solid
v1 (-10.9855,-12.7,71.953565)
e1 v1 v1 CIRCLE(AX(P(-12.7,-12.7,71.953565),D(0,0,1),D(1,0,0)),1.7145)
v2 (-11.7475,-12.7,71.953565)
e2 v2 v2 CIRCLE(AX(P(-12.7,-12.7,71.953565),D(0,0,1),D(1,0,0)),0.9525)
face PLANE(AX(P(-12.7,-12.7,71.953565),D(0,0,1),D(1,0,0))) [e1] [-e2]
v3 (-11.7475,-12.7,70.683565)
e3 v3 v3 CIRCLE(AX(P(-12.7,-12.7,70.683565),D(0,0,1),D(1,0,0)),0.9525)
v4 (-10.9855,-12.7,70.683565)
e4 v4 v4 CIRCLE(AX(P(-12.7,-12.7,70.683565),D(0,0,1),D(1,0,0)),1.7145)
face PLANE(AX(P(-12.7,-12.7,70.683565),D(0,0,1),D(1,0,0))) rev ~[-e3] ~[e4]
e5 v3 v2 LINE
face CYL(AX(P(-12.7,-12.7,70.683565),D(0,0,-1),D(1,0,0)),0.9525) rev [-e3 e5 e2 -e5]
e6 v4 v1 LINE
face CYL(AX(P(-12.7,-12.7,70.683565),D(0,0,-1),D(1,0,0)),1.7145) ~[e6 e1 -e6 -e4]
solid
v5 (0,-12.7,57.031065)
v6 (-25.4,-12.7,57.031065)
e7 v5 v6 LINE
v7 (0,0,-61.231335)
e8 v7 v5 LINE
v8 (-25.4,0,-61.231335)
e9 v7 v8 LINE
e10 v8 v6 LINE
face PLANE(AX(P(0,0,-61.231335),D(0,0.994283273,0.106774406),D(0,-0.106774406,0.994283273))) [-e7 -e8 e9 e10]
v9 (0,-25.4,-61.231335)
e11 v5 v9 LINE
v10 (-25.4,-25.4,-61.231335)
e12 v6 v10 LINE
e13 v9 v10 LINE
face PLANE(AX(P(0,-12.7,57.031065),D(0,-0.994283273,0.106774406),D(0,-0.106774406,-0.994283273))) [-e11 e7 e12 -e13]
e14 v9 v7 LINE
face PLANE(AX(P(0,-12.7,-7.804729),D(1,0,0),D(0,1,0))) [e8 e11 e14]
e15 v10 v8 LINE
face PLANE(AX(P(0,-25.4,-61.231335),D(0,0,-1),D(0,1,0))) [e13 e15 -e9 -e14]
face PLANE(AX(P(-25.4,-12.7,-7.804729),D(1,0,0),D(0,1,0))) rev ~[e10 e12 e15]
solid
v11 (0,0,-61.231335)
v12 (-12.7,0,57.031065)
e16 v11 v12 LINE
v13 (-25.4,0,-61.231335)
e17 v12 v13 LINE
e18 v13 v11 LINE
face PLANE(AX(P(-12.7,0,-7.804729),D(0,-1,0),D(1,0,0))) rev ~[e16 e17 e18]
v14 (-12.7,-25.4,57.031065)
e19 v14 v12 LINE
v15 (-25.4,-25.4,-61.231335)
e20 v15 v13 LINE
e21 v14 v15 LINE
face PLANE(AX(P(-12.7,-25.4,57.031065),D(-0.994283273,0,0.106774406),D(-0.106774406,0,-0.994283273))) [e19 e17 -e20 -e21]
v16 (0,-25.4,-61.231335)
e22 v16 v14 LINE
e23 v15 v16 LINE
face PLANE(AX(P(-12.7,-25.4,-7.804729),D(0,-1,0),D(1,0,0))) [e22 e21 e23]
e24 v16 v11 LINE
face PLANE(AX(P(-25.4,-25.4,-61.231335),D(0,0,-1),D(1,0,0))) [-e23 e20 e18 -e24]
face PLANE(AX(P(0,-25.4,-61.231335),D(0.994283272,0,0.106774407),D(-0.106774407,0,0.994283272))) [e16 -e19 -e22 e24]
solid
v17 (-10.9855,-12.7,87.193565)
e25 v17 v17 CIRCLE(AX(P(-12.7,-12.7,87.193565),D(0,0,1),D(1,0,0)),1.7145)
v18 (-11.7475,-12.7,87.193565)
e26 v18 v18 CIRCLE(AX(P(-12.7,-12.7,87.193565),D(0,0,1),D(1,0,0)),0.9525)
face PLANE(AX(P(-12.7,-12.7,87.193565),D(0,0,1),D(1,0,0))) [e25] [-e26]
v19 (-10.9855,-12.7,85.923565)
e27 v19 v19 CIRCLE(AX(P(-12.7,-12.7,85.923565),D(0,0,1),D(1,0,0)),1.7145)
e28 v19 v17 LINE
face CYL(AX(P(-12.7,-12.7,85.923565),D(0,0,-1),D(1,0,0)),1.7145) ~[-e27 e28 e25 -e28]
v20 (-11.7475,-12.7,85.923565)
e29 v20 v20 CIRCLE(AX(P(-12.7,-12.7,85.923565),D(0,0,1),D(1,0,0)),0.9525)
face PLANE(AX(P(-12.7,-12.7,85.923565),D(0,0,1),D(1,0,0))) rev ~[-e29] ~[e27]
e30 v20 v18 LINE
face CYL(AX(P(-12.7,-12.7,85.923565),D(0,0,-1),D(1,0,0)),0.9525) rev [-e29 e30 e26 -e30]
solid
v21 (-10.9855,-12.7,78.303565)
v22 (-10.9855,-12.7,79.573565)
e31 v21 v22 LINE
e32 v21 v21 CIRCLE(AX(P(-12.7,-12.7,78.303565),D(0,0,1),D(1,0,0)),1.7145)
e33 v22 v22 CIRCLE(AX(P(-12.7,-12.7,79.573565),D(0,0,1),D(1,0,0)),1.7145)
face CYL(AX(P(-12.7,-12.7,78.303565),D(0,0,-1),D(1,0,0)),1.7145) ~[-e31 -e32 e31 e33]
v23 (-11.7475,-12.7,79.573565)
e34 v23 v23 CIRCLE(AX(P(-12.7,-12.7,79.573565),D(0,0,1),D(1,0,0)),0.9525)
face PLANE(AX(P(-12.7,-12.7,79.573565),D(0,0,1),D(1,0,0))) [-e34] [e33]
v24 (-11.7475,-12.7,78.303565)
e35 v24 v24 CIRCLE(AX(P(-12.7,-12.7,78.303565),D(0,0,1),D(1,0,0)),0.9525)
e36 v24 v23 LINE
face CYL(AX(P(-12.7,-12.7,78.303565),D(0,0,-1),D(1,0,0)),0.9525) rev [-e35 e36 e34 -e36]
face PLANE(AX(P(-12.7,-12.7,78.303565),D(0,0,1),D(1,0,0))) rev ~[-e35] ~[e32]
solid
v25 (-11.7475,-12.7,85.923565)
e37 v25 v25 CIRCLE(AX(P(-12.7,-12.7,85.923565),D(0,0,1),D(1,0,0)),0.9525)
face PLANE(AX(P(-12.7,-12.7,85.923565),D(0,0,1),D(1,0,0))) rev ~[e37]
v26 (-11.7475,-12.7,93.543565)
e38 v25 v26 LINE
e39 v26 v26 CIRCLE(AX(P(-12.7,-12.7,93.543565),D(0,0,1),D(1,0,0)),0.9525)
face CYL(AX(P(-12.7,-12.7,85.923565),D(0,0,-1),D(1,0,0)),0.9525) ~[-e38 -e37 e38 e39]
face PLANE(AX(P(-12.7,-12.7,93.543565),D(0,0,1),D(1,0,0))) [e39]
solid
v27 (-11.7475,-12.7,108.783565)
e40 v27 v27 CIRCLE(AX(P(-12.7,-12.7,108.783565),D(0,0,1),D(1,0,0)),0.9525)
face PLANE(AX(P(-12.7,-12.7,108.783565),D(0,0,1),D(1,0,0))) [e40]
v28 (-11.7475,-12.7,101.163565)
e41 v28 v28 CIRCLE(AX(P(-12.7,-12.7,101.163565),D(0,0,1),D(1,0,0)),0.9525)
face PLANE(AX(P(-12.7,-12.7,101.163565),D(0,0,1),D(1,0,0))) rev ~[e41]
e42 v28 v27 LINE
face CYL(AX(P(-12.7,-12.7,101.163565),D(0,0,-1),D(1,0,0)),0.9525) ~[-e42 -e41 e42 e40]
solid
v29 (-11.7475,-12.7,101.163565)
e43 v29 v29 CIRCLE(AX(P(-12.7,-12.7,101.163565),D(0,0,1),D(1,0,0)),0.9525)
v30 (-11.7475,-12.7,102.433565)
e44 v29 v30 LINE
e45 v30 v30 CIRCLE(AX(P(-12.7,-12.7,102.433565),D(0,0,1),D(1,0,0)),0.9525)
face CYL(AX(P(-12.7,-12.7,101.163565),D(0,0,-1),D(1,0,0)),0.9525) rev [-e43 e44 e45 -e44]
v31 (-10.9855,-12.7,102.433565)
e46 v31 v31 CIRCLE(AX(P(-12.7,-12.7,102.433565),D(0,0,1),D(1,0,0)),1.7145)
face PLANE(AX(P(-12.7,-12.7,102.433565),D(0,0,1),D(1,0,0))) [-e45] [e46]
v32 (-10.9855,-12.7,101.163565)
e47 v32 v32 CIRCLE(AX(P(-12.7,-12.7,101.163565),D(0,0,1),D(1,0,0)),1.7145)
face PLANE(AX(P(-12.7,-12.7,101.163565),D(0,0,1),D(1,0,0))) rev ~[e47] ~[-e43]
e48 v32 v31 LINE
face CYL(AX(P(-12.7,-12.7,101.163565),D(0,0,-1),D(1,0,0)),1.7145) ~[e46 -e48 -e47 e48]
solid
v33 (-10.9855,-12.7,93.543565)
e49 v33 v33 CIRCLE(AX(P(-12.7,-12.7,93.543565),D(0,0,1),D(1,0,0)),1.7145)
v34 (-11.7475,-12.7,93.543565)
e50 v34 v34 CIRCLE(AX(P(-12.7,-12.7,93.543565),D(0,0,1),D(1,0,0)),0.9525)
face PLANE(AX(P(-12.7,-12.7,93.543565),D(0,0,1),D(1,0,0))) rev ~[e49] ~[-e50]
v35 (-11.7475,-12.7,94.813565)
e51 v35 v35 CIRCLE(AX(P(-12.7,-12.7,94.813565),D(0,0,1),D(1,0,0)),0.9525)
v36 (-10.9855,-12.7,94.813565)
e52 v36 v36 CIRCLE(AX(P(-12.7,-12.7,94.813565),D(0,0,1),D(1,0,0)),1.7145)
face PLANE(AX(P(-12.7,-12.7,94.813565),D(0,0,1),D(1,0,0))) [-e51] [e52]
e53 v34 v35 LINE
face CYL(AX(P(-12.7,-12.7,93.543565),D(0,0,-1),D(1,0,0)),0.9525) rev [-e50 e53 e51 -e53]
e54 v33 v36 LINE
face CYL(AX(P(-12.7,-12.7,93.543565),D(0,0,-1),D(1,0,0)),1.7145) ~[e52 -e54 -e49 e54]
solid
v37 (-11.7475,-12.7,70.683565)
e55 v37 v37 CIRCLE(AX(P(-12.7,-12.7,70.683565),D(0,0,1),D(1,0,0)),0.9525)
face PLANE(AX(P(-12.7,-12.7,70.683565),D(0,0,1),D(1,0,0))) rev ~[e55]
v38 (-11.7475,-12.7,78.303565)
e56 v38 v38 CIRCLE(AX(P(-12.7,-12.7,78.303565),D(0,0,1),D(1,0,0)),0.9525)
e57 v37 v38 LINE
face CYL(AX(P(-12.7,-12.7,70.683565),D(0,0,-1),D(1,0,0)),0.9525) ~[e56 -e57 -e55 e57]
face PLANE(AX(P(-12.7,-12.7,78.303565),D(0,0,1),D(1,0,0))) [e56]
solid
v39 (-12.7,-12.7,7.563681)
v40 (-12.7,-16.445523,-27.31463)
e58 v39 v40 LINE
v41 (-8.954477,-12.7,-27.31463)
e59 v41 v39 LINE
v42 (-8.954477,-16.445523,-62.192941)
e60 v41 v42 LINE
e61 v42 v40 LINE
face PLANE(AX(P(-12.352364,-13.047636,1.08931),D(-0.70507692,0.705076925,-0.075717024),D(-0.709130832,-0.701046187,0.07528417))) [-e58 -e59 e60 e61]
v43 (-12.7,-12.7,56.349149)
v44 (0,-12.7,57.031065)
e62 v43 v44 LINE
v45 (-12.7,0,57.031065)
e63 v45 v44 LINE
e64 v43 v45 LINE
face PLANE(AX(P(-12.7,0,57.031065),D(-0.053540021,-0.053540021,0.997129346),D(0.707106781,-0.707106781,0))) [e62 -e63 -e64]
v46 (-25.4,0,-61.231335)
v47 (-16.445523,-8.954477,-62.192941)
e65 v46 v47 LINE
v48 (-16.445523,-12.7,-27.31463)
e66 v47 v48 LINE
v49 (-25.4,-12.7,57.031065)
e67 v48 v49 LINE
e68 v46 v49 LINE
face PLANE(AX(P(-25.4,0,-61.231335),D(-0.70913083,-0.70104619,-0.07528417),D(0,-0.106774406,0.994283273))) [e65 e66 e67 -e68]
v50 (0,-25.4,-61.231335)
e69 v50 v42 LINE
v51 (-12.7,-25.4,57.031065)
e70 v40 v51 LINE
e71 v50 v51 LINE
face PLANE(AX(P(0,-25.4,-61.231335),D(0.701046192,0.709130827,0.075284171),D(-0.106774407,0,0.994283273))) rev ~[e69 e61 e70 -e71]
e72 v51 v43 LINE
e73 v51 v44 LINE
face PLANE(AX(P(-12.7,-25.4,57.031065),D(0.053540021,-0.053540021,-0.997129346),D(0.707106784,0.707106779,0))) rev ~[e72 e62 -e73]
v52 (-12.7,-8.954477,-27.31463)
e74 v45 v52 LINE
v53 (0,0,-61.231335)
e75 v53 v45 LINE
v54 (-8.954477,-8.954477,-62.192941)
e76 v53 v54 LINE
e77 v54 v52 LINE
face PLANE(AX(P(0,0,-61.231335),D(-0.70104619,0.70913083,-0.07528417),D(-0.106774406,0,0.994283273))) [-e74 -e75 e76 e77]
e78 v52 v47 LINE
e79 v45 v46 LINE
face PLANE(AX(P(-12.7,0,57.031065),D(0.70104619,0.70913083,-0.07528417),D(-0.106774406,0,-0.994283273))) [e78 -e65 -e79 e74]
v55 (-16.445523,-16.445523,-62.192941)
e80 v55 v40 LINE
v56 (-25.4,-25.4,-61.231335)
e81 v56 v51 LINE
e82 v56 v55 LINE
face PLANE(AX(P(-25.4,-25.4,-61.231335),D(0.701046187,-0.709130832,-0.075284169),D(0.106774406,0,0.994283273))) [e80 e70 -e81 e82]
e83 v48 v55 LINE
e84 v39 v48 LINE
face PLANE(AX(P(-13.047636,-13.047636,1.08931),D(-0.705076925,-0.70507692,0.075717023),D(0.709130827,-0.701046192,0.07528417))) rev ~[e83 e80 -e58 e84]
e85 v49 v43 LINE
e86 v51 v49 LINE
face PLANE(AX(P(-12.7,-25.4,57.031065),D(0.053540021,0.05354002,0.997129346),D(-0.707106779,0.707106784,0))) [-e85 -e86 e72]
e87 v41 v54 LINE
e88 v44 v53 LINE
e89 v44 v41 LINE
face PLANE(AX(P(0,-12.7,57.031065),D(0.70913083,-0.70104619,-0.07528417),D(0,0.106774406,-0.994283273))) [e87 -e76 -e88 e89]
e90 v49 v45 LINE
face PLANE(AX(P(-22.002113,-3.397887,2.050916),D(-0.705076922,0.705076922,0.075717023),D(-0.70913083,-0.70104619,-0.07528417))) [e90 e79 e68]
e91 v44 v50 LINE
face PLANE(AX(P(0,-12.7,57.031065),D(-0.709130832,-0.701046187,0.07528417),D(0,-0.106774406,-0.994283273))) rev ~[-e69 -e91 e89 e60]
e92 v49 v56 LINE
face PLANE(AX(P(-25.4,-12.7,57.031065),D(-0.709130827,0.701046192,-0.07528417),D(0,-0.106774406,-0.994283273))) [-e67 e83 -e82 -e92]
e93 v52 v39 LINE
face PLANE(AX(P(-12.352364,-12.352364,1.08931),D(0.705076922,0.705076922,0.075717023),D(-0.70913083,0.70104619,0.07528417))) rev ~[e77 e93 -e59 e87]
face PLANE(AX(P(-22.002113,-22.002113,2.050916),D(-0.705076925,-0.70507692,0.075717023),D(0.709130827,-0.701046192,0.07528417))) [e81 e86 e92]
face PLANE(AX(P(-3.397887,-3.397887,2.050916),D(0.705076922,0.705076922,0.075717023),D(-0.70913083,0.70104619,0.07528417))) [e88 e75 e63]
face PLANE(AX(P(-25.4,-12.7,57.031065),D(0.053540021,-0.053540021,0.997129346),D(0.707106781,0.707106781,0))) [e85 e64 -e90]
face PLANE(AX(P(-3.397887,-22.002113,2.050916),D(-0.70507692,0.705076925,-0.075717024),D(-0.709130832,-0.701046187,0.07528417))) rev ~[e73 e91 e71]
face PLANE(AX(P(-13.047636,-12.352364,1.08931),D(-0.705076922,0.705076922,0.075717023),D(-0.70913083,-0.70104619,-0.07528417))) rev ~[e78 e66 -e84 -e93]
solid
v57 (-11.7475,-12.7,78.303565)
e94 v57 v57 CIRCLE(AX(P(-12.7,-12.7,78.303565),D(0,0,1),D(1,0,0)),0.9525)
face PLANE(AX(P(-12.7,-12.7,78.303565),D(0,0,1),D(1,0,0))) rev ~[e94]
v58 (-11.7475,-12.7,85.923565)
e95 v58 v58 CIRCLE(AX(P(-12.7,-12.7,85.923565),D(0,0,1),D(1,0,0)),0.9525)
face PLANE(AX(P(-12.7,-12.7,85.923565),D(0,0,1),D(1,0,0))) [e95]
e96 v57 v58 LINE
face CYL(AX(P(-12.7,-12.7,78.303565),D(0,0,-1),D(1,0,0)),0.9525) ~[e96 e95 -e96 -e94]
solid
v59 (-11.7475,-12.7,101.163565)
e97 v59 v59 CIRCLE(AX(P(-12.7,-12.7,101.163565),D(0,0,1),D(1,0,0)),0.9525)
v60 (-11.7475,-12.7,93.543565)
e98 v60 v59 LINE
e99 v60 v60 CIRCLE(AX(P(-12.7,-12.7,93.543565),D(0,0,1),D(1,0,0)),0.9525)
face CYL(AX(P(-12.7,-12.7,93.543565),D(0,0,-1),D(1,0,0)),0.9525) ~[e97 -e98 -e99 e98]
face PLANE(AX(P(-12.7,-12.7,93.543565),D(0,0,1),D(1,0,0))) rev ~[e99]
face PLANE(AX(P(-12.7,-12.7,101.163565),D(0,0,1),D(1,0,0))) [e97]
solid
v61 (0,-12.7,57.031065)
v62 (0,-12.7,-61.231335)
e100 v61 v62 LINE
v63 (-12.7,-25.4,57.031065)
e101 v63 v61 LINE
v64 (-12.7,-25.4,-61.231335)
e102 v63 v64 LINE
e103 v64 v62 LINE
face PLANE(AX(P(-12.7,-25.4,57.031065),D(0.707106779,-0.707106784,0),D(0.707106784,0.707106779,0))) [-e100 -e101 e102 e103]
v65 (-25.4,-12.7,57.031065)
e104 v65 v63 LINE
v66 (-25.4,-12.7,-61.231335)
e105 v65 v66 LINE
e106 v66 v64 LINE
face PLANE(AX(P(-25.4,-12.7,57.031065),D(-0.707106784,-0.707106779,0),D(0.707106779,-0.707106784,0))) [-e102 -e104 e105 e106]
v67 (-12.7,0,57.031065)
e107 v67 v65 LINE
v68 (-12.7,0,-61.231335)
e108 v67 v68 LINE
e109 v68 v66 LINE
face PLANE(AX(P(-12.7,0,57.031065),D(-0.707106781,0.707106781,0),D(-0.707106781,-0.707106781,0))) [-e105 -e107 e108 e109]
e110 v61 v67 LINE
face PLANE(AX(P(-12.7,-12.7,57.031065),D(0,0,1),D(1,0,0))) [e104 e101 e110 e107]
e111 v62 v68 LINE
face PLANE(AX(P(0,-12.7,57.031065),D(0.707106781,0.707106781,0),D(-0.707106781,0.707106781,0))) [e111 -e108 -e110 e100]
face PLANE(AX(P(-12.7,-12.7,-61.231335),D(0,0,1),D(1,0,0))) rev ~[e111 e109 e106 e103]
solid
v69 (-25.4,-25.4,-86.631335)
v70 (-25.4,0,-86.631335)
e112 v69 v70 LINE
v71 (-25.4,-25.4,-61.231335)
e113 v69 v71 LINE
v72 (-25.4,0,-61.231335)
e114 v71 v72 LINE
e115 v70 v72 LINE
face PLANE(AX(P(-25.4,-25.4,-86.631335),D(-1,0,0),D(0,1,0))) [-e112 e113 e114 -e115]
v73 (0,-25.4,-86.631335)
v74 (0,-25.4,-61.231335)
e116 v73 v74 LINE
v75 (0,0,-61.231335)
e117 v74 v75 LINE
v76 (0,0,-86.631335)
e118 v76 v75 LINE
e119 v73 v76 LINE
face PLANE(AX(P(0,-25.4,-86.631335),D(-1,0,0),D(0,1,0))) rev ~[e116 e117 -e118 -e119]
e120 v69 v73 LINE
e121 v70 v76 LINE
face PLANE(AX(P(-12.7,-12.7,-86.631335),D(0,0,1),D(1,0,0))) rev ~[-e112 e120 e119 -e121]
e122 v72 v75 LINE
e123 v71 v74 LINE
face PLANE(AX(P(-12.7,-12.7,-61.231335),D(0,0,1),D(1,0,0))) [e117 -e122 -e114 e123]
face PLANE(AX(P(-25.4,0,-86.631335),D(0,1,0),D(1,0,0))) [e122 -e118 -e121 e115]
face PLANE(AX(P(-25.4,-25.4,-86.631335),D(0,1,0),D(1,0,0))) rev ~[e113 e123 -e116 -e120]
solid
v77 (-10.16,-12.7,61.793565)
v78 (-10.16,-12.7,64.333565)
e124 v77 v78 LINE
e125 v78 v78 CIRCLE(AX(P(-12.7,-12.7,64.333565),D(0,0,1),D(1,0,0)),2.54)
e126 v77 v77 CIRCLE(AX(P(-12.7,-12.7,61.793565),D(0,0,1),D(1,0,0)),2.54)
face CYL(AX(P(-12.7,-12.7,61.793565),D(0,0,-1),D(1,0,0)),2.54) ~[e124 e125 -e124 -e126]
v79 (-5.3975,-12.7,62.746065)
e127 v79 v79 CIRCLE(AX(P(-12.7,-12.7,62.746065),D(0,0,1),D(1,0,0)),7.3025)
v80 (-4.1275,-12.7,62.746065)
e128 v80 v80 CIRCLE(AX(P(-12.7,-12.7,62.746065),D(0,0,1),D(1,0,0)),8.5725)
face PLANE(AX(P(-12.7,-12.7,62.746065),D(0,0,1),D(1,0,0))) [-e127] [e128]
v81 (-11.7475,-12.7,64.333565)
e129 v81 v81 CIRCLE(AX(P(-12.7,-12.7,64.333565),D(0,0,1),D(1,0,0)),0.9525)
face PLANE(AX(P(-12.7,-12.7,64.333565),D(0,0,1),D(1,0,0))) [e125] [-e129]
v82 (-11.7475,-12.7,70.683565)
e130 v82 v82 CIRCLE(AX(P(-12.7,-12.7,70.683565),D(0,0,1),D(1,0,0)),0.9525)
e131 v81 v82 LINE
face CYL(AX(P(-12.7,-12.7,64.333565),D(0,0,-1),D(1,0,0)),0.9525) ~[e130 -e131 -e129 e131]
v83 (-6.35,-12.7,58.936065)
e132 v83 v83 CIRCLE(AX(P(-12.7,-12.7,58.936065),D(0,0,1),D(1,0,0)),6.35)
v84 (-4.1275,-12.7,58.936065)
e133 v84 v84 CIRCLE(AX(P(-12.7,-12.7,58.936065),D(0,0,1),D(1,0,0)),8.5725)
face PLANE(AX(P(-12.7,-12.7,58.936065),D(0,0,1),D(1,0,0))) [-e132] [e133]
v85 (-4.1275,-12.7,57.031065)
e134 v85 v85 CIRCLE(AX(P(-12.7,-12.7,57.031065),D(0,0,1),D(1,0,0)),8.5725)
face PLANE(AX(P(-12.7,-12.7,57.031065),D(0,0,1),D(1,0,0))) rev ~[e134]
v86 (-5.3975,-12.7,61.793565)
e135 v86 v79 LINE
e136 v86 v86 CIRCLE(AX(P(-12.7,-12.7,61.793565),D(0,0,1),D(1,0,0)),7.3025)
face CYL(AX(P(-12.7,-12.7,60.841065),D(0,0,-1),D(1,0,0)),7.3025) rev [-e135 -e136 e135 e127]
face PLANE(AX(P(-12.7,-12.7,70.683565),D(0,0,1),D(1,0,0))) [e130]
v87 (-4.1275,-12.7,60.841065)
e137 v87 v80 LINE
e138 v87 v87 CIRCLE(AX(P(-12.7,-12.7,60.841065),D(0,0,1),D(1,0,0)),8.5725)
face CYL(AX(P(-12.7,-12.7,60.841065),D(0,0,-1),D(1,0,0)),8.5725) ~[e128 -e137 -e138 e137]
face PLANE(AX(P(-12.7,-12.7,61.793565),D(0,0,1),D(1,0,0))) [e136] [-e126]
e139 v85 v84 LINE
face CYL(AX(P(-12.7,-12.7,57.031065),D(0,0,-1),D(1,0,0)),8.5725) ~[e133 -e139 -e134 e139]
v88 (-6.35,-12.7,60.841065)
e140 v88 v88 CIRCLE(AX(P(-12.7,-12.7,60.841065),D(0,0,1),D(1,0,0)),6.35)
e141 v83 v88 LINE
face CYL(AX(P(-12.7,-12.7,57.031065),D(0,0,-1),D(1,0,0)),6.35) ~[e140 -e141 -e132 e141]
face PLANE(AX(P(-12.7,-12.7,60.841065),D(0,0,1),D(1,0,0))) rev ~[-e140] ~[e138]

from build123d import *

# Parameters (mm, degrees)
F18_R     = 8.5725
F18_R_2   = 6.35
F19_DEPTH = 1.905
F20_DEPTH = 3.81
F21_R     = 7.3025
F21_R_2   = 6.35
F22_DEPTH = 0.9525
F21_R_3   = 8.5725
F23_DEPTH = 1.905
F24_R     = 2.54
F25_DEPTH = 2.54
F26_R     = 0.9525
F27_DEPTH = 6.35
F28_R     = 1.7145
F28_R_2   = 0.9525
F29_DEPTH = 1.27
F30_DEPTH = 7.62
F31_R     = 1.7145
F31_R_2   = 0.9525
F32_DEPTH = 1.27
F33_DEPTH = 7.62
F34_R     = 1.7145
F34_R_2   = 0.9525
F35_DEPTH = 1.27
F36_DEPTH = 7.62
F37_R     = 1.7145
F37_R_2   = 0.9525
F38_DEPTH = 1.27
F39_DEPTH = 7.62
F40_R     = 1.7145
F40_R_2   = 0.9525
F41_DEPTH = 1.27
F42_DEPTH = 7.62
F43_DEPTH = 12.7
F44_DEPTH = 12.7
F45_DEPTH = 12.7
F46_DEPTH = 12.7
F47_DEPTH = 25.4
F48_DEPTH = 25.4
F49_DEPTH = 118.2624
F15_W     = 25.4
F15_H     = 25.4
F50_DEPTH = 25.4


with BuildPart() as f19:
    # F18 (on face) → F19 (new body)
    with BuildSketch(Plane.XY.offset(57.0310650853)):
        with Locations((-12.7000000462, -12.7)):
            Circle(F18_R)
        with Locations((-12.7000000462, -12.7)):
            Circle(F18_R_2, mode=Mode.SUBTRACT)
    extrude(amount=F19_DEPTH)

    # F18 (on face) → F20 (join)
    with BuildSketch(Plane.XY.offset(57.0310650853)):
        with Locations((-12.7000000462, -12.7)):
            Circle(F18_R_2)
    extrude(amount=F20_DEPTH)

    # F21 (on face) → F22 (join)
    with BuildSketch(Plane.XY.offset(60.8410650853)):
        with Locations((-12.7000000462, -12.7)):
            Circle(F21_R)
        with Locations((-12.7000000462, -12.7)):
            Circle(F21_R_2, mode=Mode.SUBTRACT)
        with Locations((-12.7000000462, -12.7)):
            Circle(F21_R_2)
    extrude(amount=F22_DEPTH)

    # F21 (on face) → F23 (join)
    with BuildSketch(Plane.XY.offset(60.8410650853)):
        with Locations((-12.7000000462, -12.7)):
            Circle(F21_R_3)
        with Locations((-12.7000000462, -12.7)):
            Circle(F21_R, mode=Mode.SUBTRACT)
    extrude(amount=F23_DEPTH)

    # F24 (on face) → F25 (join)
    with BuildSketch(Plane.XY.offset(61.7935650853)):
        with Locations((-12.7000000462, -12.7)):
            Circle(F24_R)
    extrude(amount=F25_DEPTH)

    # F26 (on face) → F27 (join)
    with BuildSketch(Plane.XY.offset(64.3335650853)):
        with Locations((-12.7000000462, -12.7)):
            Circle(F26_R)
    extrude(amount=F27_DEPTH)


with BuildPart() as f29:
    # F28 (on face) → F29 (new body)
    with BuildSketch(Plane.XY.offset(70.6835650853)):
        with Locations((-12.7000000462, -12.7)):
            Circle(F28_R)
        with Locations((-12.7000000462, -12.7)):
            Circle(F28_R_2, mode=Mode.SUBTRACT)
    extrude(amount=F29_DEPTH)


with BuildPart() as f30:
    # F30 (new): a face of the model
    f30_faces = [f19.part.faces().sort_by_distance(p)[0] for p in [
        (-12.7000000462, -12.7, 70.6835650853),
    ]]
    extrude(f30_faces, amount=F30_DEPTH)


with BuildPart() as f32:
    # F31 (on face) → F32 (new body)
    with BuildSketch(Plane.XY.offset(78.3035650853)):
        with Locations((-12.7000000462, -12.7)):
            Circle(F31_R)
        with Locations((-12.7000000462, -12.7)):
            Circle(F31_R_2, mode=Mode.SUBTRACT)
    extrude(amount=F32_DEPTH)


with BuildPart() as f33:
    # F33 (new): a face of the model
    f33_faces = [f30.part.faces().sort_by_distance(p)[0] for p in [
        (-12.7000000462, -12.7, 78.3035650853),
    ]]
    extrude(f33_faces, amount=F33_DEPTH)


with BuildPart() as f35:
    # F34 (on face) → F35 (new body)
    with BuildSketch(Plane.XY.offset(85.9235650853)):
        with Locations((-12.7000000462, -12.7)):
            Circle(F34_R)
        with Locations((-12.7000000462, -12.7)):
            Circle(F34_R_2, mode=Mode.SUBTRACT)
    extrude(amount=F35_DEPTH)


with BuildPart() as f36:
    # F36 (new): a face of the model
    f36_faces = [f33.part.faces().sort_by_distance(p)[0] for p in [
        (-12.7000000462, -12.7, 85.9235650853),
    ]]
    extrude(f36_faces, amount=F36_DEPTH)


with BuildPart() as f38:
    # F37 (on face) → F38 (new body)
    with BuildSketch(Plane.XY.offset(93.5435650853)):
        with Locations((-12.7000000462, -12.7)):
            Circle(F37_R)
        with Locations((-12.7000000462, -12.7)):
            Circle(F37_R_2, mode=Mode.SUBTRACT)
    extrude(amount=F38_DEPTH)


with BuildPart() as f39:
    # F39 (new): a face of the model
    f39_faces = [f36.part.faces().sort_by_distance(p)[0] for p in [
        (-12.7000000462, -12.7, 93.5435650853),
    ]]
    extrude(f39_faces, amount=F39_DEPTH)


with BuildPart() as f41:
    # F40 (on face) → F41 (new body)
    with BuildSketch(Plane.XY.offset(101.1635650853)):
        with Locations((-12.7000000462, -12.7)):
            Circle(F40_R)
        with Locations((-12.7000000462, -12.7)):
            Circle(F40_R_2, mode=Mode.SUBTRACT)
    extrude(amount=F41_DEPTH)


with BuildPart() as f42:
    # F42 (new): a face of the model
    f42_faces = [f39.part.faces().sort_by_distance(p)[0] for p in [
        (-12.7000000462, -12.7, 101.1635650853),
    ]]
    extrude(f42_faces, amount=F42_DEPTH)


with BuildPart() as f43:
    # F3 (on face) → F43 (new body)
    with BuildSketch(Plane(origin=(-3.2689159971, -3.2689159971, -0.3510433846), x_dir=(-0.7091308298, 0.7010461896, 0.0752841698), z_dir=(0.7050769222, 0.7050769222, 0.0757170234))):
        Polygon((13.2994979292, 56.7050340318), (-4.6097502176, 58.0610689933), (-4.6097502176, -60.8812920634), align=None)
    extrude(amount=-F43_DEPTH)

    # F11 (on face) → F44 (join)
    with BuildSketch(Plane(origin=(-21.9854641777, -21.9854640177, 2.3609819607), x_dir=(0.7091308273, -0.7010461922, 0.0752841701), z_dir=(-0.7050769248, -0.7050769196, 0.0757170232))):
        Polygon((13.0941481152, 53.9929641088), (-4.815099966, 55.3489990703), (-4.815099966, -63.5933619865), align=None)
    extrude(amount=-F44_DEPTH)

    # F7 (on face) → F45 (join)
    with BuildSketch(Plane(origin=(-9.3582740439, 9.3582740439, 1.0049692917), x_dir=(-0.7091308298, -0.7010461896, -0.0752841698), z_dir=(-0.7050769222, 0.7050769222, 0.0757170234))):
        Polygon((22.6216732953, 58.0610689933), (4.7124251485, 56.7050340318), (22.6216732953, -60.8812920634), align=None)
    extrude(amount=-F45_DEPTH)

    # F13 (on face) → F46 (join)
    with BuildSketch(Plane(origin=(9.3582740435, -9.3582741116, 1.0049692989), x_dir=(-0.7091308324, -0.701046187, 0.0752841696), z_dir=(-0.7050769196, 0.7050769247, -0.0757170237))):
        Polygon((13.19682295, -63.5933619865), (31.1060711623, 53.9929641088), (13.19682295, 55.3489990703), align=None)
    extrude(amount=F46_DEPTH)


with BuildPart() as f47:
    # F9 (on face) → F47 (new body)
    with BuildSketch(Plane.XZ.offset(25.4)):
        Polygon((-12.7000000924, 57.0310650853), (-25.4, -61.2313349147), (0, -61.2313349147), align=None)
    extrude(amount=-F47_DEPTH)


with BuildPart() as f48:
    # F0 (on Right) → F48 (new body)
    with BuildSketch(Plane.YZ):
        Polygon((-25.4, -61.2313349147), (0, -61.2313349147), (-12.7, 57.0310650853), align=None)
    extrude(amount=-F48_DEPTH)


with BuildPart() as f49:
    # F17 (on 3pt) → F49 (new body)
    with BuildSketch(Plane.XY.offset(57.0310650853)):
        Polygon((0, -12.7), (-12.7, 0), (-25.4, -12.7), (-12.7000000924, -25.4), align=None)
    extrude(amount=-F49_DEPTH)


with BuildPart() as f50:
    # F15 (on face) → F50 (new body)
    with BuildSketch(Plane.XY.offset(-86.6313349147)):
        with Locations((-12.7, -12.7)):
            Rectangle(F15_W, F15_H)
    extrude(amount=F50_DEPTH)


solid = Compound([f19.part, f29.part, f30.part, f32.part, f33.part, f35.part, f36.part, f38.part, f39.part, f41.part, f42.part, f43.part, f47.part, f48.part, f49.part, f50.part])
